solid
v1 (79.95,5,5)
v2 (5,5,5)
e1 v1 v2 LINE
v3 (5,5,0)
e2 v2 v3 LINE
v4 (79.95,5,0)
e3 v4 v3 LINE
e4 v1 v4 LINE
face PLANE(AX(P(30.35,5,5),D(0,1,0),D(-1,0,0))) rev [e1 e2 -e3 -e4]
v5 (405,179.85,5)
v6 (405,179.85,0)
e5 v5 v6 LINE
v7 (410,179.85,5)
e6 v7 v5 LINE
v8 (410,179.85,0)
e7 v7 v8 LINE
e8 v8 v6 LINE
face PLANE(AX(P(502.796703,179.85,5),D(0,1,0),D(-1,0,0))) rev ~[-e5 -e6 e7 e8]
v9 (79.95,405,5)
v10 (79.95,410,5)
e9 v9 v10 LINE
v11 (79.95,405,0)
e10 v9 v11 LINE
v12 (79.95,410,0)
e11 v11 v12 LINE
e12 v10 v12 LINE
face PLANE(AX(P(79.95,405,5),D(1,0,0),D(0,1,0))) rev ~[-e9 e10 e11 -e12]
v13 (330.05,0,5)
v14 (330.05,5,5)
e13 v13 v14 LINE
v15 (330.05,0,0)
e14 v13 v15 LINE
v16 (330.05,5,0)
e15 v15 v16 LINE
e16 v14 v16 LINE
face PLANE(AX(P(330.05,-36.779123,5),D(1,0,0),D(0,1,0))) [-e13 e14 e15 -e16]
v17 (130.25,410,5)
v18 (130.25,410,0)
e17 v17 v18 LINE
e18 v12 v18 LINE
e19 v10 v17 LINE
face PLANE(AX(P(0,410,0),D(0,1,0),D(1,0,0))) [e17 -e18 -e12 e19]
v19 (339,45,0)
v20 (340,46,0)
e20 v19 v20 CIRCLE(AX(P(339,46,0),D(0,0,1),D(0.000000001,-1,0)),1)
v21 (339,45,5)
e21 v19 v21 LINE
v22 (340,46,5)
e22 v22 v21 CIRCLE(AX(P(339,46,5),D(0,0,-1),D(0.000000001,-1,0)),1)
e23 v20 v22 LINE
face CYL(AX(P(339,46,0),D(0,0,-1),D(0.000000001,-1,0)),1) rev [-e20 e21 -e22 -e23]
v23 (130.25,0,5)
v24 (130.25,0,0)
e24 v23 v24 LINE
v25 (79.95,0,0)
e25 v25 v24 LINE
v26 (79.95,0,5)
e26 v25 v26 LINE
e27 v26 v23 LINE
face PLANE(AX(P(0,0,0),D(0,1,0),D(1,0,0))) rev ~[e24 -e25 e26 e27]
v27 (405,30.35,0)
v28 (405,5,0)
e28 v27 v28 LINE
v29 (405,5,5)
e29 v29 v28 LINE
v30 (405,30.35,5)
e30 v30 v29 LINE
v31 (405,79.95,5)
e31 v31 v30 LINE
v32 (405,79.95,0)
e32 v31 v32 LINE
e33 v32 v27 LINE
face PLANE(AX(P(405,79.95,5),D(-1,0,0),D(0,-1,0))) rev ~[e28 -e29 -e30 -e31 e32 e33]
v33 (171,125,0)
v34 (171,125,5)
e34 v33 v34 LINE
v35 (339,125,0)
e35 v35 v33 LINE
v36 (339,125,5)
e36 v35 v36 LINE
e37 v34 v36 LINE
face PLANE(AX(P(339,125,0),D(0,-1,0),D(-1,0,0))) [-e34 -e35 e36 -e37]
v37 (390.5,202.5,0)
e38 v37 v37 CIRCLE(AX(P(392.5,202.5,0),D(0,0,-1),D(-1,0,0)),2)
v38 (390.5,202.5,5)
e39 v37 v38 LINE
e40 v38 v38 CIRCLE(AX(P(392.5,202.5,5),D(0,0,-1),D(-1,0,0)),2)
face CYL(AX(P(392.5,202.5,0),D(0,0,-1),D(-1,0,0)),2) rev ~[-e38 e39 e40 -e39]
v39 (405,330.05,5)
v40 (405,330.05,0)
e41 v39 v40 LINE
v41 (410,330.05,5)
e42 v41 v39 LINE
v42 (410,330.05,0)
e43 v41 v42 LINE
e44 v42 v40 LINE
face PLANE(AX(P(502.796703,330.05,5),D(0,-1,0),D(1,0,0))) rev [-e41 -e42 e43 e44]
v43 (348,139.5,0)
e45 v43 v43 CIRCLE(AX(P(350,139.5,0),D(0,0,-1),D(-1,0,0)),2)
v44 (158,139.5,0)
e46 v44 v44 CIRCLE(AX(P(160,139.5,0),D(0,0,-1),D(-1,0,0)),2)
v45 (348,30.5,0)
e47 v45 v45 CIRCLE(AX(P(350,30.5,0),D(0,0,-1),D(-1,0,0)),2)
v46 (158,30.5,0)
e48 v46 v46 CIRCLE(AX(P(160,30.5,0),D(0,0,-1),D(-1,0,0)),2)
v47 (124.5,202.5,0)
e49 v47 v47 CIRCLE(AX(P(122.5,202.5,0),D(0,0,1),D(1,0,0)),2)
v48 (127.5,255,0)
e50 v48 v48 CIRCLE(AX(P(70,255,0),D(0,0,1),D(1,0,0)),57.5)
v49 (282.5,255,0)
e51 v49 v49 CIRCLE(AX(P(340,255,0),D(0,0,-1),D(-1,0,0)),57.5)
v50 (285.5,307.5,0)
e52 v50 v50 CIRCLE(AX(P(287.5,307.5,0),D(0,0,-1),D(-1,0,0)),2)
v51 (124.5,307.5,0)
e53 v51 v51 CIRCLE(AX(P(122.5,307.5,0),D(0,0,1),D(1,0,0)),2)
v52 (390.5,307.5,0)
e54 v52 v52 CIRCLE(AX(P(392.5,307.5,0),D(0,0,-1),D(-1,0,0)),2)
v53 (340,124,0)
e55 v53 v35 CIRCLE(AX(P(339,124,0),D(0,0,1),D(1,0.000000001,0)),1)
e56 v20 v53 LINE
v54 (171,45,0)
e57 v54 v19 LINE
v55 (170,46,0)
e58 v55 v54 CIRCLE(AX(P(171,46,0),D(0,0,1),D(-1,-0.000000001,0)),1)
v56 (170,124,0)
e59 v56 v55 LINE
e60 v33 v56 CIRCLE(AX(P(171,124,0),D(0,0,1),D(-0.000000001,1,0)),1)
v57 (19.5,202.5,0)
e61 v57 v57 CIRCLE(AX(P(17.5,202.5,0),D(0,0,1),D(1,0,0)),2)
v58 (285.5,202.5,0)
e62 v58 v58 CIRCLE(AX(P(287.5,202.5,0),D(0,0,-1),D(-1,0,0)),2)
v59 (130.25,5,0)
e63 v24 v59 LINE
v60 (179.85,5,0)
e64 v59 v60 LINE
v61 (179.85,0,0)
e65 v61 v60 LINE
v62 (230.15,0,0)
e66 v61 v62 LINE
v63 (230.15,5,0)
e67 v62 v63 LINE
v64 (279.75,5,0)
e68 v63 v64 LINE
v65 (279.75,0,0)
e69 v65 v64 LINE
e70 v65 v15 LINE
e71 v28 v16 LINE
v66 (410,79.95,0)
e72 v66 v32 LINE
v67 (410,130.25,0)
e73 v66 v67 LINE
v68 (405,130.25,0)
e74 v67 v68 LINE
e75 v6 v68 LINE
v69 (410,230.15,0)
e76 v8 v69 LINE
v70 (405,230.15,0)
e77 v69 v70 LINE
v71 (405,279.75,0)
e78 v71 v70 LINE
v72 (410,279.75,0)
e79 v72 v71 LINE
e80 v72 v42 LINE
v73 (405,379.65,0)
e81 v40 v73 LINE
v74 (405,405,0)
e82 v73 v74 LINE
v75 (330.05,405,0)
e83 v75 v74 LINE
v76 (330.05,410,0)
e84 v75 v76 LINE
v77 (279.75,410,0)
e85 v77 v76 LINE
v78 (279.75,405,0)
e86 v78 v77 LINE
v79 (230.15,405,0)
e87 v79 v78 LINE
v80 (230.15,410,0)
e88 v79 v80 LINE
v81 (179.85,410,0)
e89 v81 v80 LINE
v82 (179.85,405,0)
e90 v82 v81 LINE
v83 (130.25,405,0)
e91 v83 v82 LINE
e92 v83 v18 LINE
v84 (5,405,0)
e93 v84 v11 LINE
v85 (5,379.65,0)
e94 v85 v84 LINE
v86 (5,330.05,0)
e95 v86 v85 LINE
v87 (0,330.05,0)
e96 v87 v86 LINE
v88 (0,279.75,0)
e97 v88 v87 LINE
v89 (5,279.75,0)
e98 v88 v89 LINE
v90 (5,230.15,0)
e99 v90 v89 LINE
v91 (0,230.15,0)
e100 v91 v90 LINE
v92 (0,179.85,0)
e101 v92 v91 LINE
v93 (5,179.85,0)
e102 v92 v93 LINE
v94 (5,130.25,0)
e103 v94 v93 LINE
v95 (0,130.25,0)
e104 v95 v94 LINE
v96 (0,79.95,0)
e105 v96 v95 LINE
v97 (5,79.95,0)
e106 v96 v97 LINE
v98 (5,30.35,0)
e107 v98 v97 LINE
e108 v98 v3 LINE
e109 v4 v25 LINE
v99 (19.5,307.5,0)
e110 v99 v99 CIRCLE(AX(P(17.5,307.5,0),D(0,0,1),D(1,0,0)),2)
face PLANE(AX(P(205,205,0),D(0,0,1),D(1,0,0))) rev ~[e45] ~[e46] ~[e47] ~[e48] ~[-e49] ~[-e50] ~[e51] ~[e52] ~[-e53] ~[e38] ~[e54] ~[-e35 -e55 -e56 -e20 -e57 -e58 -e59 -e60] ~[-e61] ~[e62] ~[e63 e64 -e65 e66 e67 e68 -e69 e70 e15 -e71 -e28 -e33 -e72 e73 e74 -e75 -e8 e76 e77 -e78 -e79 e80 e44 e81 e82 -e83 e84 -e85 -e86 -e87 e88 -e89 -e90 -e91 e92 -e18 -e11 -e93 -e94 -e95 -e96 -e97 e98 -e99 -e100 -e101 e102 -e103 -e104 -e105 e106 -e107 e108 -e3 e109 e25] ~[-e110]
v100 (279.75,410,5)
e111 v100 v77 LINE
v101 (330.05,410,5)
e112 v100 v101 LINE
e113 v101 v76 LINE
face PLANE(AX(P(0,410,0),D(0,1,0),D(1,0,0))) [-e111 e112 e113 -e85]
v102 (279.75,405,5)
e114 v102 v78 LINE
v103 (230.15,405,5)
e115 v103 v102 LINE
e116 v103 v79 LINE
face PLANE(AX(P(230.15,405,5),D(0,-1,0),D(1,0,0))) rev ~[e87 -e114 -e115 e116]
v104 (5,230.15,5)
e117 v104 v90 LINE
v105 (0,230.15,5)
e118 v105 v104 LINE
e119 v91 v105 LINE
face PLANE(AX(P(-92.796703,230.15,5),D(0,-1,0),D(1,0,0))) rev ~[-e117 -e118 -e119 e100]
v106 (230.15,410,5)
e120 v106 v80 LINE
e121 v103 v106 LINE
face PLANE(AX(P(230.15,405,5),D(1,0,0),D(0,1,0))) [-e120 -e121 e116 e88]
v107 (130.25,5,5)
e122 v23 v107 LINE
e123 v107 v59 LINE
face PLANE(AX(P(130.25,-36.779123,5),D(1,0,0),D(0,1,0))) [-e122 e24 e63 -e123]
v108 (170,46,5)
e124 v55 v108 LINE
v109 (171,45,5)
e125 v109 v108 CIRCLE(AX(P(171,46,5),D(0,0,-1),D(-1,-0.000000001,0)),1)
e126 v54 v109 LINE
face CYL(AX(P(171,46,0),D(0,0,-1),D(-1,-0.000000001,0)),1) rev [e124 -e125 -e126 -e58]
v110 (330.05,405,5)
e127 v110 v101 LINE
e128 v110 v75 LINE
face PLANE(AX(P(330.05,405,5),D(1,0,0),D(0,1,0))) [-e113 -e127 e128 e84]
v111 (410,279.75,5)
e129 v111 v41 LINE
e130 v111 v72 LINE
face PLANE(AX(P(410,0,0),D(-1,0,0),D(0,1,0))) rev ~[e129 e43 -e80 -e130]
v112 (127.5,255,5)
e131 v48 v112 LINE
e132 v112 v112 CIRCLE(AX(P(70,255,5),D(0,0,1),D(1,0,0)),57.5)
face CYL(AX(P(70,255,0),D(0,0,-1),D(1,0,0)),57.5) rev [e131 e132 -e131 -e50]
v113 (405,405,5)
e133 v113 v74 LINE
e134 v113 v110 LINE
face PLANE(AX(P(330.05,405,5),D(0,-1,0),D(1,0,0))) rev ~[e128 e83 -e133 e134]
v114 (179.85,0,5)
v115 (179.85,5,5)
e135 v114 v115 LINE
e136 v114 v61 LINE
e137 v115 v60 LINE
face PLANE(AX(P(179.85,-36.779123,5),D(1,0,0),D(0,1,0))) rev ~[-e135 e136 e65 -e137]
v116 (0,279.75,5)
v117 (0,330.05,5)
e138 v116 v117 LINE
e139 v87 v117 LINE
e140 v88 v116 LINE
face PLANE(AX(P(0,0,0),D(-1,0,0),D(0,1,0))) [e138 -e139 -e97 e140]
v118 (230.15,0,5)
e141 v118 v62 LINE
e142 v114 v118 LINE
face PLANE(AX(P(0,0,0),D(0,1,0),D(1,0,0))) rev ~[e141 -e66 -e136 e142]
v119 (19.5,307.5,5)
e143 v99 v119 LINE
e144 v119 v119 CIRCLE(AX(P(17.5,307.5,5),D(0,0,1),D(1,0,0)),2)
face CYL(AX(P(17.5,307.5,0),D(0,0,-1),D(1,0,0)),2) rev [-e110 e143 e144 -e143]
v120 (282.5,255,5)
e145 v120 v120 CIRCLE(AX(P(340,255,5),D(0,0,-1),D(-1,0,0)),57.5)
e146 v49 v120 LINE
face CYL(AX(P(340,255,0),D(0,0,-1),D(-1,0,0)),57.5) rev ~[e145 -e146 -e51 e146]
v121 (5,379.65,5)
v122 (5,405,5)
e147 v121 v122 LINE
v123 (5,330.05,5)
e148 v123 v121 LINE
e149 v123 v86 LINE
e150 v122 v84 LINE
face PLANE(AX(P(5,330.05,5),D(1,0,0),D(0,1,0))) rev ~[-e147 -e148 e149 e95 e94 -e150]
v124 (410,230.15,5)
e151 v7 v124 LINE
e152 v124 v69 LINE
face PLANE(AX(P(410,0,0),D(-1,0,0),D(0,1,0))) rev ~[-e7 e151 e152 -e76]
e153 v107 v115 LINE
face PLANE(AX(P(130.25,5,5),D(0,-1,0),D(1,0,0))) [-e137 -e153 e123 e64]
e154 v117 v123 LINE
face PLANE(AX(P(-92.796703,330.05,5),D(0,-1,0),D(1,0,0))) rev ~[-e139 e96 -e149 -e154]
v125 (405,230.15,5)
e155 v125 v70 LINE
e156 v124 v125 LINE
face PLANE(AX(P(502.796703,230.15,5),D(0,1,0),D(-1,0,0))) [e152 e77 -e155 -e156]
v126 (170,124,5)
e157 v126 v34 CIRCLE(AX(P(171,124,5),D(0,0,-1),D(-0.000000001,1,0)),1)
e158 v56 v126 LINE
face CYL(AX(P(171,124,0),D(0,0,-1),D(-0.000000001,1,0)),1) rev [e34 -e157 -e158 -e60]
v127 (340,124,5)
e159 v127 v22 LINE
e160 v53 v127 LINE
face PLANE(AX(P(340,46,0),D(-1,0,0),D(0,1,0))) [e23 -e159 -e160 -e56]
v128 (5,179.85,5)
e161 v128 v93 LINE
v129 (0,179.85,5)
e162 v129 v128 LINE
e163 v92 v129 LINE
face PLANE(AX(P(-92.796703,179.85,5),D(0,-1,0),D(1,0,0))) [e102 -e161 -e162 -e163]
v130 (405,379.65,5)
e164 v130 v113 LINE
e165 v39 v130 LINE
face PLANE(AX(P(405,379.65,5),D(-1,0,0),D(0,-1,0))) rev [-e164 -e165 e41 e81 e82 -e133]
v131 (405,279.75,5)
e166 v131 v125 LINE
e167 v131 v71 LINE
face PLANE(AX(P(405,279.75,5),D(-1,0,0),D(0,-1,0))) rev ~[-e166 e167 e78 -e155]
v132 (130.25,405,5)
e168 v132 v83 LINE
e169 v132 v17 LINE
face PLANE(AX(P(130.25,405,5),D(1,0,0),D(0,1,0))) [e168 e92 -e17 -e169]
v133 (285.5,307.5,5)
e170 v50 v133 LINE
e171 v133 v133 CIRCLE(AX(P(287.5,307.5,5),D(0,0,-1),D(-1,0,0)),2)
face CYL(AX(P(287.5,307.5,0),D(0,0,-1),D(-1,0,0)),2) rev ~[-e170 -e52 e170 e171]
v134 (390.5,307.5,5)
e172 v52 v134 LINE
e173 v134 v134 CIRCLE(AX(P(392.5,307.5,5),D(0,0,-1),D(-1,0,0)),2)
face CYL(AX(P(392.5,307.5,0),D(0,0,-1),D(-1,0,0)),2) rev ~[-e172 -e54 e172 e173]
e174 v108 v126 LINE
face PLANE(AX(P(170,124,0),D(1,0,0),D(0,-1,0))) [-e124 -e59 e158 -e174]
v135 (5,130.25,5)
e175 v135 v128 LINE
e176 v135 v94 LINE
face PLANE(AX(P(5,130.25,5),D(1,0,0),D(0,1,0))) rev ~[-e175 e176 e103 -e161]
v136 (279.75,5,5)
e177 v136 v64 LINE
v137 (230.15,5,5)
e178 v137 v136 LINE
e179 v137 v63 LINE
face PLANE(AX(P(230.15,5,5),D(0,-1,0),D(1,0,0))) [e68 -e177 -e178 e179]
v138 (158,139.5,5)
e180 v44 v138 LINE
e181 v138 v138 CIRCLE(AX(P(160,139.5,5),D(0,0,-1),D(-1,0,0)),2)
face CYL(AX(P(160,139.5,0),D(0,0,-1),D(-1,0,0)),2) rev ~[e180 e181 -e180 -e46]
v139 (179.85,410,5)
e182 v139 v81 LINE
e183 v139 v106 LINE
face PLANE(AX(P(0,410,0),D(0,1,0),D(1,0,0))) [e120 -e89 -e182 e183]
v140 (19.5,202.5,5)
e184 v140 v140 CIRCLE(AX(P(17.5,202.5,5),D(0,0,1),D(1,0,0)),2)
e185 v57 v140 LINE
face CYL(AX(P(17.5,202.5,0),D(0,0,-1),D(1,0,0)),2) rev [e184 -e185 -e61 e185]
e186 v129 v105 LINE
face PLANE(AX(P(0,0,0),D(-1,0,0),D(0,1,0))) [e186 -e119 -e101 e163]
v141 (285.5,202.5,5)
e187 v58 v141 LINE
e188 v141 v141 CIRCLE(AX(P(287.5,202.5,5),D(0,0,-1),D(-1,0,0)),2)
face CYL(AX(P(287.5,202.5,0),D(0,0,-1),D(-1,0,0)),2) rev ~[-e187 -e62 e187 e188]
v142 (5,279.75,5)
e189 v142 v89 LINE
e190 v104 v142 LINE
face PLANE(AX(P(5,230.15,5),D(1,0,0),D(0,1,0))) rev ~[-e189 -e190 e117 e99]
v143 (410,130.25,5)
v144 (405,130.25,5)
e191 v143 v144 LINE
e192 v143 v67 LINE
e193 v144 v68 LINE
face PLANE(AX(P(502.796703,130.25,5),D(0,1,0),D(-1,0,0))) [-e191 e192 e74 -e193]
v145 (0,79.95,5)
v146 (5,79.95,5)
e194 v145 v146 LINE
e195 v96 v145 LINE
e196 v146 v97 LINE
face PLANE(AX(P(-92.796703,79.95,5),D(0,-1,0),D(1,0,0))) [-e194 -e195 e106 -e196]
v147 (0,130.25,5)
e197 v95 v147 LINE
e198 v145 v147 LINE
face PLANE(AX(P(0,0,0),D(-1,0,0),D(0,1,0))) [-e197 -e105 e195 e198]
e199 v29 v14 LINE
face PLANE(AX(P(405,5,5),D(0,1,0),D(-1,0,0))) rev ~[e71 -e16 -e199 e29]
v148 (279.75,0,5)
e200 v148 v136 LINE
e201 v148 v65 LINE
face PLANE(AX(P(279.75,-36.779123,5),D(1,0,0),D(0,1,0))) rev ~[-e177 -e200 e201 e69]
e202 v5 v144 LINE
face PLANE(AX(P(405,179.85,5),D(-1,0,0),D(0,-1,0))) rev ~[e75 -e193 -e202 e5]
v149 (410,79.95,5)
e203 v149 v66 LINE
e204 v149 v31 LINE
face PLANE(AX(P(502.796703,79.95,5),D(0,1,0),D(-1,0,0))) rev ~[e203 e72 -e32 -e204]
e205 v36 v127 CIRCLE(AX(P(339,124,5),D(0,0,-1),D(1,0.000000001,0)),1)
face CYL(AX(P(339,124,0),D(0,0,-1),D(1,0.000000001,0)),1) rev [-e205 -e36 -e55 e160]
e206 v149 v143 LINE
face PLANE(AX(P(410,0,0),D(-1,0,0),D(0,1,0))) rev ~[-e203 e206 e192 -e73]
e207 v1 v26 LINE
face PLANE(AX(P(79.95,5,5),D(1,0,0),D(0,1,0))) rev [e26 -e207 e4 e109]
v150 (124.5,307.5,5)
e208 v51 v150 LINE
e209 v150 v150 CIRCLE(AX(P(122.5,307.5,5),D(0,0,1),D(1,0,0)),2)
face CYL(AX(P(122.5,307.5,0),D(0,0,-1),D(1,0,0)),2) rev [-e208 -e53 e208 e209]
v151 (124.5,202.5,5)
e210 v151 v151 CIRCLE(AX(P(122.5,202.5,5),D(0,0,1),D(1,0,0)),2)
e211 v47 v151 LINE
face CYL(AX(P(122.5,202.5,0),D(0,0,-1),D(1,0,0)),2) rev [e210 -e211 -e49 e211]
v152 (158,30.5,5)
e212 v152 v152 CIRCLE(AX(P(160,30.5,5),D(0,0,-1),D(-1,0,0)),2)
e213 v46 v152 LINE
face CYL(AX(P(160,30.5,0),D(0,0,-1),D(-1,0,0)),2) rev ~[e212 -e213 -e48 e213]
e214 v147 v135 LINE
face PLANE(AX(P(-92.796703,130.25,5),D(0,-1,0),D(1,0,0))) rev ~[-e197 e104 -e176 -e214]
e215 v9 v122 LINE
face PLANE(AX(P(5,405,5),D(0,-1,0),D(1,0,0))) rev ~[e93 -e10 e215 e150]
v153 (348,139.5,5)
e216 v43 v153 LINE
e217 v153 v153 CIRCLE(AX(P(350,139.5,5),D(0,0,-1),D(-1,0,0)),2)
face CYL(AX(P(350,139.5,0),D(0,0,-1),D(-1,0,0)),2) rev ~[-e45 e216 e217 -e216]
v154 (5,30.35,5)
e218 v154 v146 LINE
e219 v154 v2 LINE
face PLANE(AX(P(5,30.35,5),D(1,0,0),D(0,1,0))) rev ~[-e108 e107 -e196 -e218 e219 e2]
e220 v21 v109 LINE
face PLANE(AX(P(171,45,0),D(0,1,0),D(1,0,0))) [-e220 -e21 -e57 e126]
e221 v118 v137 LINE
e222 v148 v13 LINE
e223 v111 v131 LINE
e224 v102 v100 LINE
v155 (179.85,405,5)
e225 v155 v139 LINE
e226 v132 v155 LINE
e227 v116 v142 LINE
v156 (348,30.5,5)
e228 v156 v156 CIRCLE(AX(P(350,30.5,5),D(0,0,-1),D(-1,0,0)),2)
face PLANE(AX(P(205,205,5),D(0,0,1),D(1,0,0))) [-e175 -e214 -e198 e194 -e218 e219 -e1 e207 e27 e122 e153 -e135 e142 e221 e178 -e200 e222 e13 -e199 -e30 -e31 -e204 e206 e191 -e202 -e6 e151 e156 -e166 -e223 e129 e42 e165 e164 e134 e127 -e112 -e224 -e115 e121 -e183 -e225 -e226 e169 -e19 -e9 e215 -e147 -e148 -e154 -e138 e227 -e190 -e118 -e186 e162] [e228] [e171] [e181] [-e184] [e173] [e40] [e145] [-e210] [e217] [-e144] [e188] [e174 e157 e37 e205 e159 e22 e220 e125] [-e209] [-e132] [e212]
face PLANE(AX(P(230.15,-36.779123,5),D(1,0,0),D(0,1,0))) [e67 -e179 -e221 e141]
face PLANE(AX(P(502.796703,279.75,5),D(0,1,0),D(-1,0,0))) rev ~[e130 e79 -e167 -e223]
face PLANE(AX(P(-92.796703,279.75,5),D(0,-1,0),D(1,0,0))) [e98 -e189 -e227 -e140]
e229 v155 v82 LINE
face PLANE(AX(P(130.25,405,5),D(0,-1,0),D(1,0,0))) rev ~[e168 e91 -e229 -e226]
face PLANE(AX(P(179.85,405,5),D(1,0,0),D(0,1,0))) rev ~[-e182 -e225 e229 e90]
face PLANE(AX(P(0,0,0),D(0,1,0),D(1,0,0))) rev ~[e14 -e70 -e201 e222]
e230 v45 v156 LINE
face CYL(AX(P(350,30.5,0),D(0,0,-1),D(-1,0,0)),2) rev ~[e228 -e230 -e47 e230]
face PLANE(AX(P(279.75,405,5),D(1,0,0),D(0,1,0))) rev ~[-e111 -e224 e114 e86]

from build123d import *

# Parameters (mm, degrees)
SKIZZE1_W                       = 410
SKIZZE1_H                       = 410
AUFSATZ_LINEAR_AUSTRAGEN1_DEPTH = 5
SKIZZE2_W                       = 97.796702903
SKIZZE2_H                       = 49.6
SCHNITT_LINEAR_AUSTRAGEN1_DEPTH = 5
LINEARES_MUSTER1_COUNT          = 4
LINEARES_MUSTER1_PITCH          = 99.9
SPIEGELN1_COPY_1_SKETCH_W       = 97.796702903
SPIEGELN1_COPY_1_SKETCH_H       = 49.6
SPIEGELN1_COPY_1_DEPTH          = 5
SPIEGELN1_COPY_2_SKETCH_W       = 97.796702903
SPIEGELN1_COPY_2_SKETCH_H       = 49.6
SPIEGELN1_COPY_2_DEPTH          = 5
SPIEGELN1_COPY_3_SKETCH_W       = 97.796702903
SPIEGELN1_COPY_3_SKETCH_H       = 49.6
SPIEGELN1_COPY_3_DEPTH          = 5
SKIZZE3_W                       = 49.6
SKIZZE3_H                       = 41.77912255
SCHNITT_LINEAR_AUSTRAGEN2_DEPTH = 5
LINEARES_MUSTER2_COUNT          = 4
LINEARES_MUSTER2_PITCH          = 99.9
SPIEGELN2_COPY_1_SKETCH_W       = 49.6
SPIEGELN2_COPY_1_SKETCH_H       = 41.77912255
SPIEGELN2_COPY_1_DEPTH          = 5
SPIEGELN2_COPY_2_SKETCH_W       = 49.6
SPIEGELN2_COPY_2_SKETCH_H       = 41.77912255
SPIEGELN2_COPY_2_DEPTH          = 5
SPIEGELN2_COPY_3_SKETCH_W       = 49.6
SPIEGELN2_COPY_3_SKETCH_H       = 41.77912255
SPIEGELN2_COPY_3_DEPTH          = 5
SCHNITT_LINEAR_AUSTRAGEN3_DEPTH = 5
SPIEGELN4_COPY_1_DEPTH          = 5
SCHNITT_LINEAR_AUSTRAGEN4_REACH = 581.849
SKIZZE5_R                       = 57.5
SKIZZE5_R_2                     = 2
SKIZZE5_3_R                     = 2
SCHNITT_LINEAR_AUSTRAGEN5_DEPTH = 10


with BuildPart() as part:
    # Skizze1 → Aufsatz-Linear austragen1 (new body)
    with BuildSketch(Plane.XY):
        with Locations((205, 205)):
            Rectangle(SKIZZE1_W, SKIZZE1_H)
    extrude(amount=AUFSATZ_LINEAR_AUSTRAGEN1_DEPTH)

    # Skizze2 → Schnitt-Linear austragen1 (cut)
    with BuildSketch(Plane.XY.offset(5)):
        with Locations((-43.898351452, 354.85)):
            Rectangle(SKIZZE2_W, SKIZZE2_H)
    schnitt_linear_austragen1 = extrude(amount=-SCHNITT_LINEAR_AUSTRAGEN1_DEPTH, mode=Mode.SUBTRACT)

    # Lineares Muster1: Schnitt-Linear austragen1 ×4
    with Locations(*[(0, -i * LINEARES_MUSTER1_PITCH, 0) for i in range(1, LINEARES_MUSTER1_COUNT)]):
        add(schnitt_linear_austragen1, mode=Mode.SUBTRACT)

    # Spiegeln1: Schnitt-Linear austragen1 across plane
    add(schnitt_linear_austragen1.mirror(Plane(origin=(205, 0, 0), x_dir=(0, 0, 1), z_dir=(1, 0, 0))), mode=Mode.SUBTRACT)

    # Spiegeln1 copy 1 sketch → Spiegeln1 copy 1 (cut)
    with BuildSketch(Plane(origin=(410, -99.9, 5), x_dir=(-1, 0, 0), z_dir=(0, 0, 1))):
        with Locations((-43.898351452, -354.85)):
            Rectangle(SPIEGELN1_COPY_1_SKETCH_W, SPIEGELN1_COPY_1_SKETCH_H)
    extrude(amount=-SPIEGELN1_COPY_1_DEPTH, mode=Mode.SUBTRACT)

    # Spiegeln1 copy 2 sketch → Spiegeln1 copy 2 (cut)
    with BuildSketch(Plane(origin=(410, -199.8, 5), x_dir=(-1, 0, 0), z_dir=(0, 0, 1))):
        with Locations((-43.898351452, -354.85)):
            Rectangle(SPIEGELN1_COPY_2_SKETCH_W, SPIEGELN1_COPY_2_SKETCH_H)
    extrude(amount=-SPIEGELN1_COPY_2_DEPTH, mode=Mode.SUBTRACT)

    # Spiegeln1 copy 3 sketch → Spiegeln1 copy 3 (cut)
    with BuildSketch(Plane(origin=(410, -299.7, 5), x_dir=(-1, 0, 0), z_dir=(0, 0, 1))):
        with Locations((-43.898351452, -354.85)):
            Rectangle(SPIEGELN1_COPY_3_SKETCH_W, SPIEGELN1_COPY_3_SKETCH_H)
    extrude(amount=-SPIEGELN1_COPY_3_DEPTH, mode=Mode.SUBTRACT)

    # Skizze3 → Schnitt-Linear austragen2 (cut)
    with BuildSketch(Plane.XY.offset(5)):
        with Locations((55.15, 425.889561275)):
            Rectangle(SKIZZE3_W, SKIZZE3_H)
    schnitt_linear_austragen2 = extrude(amount=-SCHNITT_LINEAR_AUSTRAGEN2_DEPTH, mode=Mode.SUBTRACT)

    # Lineares Muster2: Schnitt-Linear austragen2 ×4
    with Locations(*[(i * LINEARES_MUSTER2_PITCH, 0, 0) for i in range(1, LINEARES_MUSTER2_COUNT)]):
        add(schnitt_linear_austragen2, mode=Mode.SUBTRACT)

    # Spiegeln2: Schnitt-Linear austragen2 across plane
    add(schnitt_linear_austragen2.mirror(Plane.ZX.offset(205)), mode=Mode.SUBTRACT)

    # Spiegeln2 copy 1 sketch → Spiegeln2 copy 1 (cut)
    with BuildSketch(Plane(origin=(99.9, 410, 5), x_dir=(1, 0, 0), z_dir=(0, 0, 1))):
        with Locations((55.15, -425.889561275)):
            Rectangle(SPIEGELN2_COPY_1_SKETCH_W, SPIEGELN2_COPY_1_SKETCH_H)
    extrude(amount=-SPIEGELN2_COPY_1_DEPTH, mode=Mode.SUBTRACT)

    # Spiegeln2 copy 2 sketch → Spiegeln2 copy 2 (cut)
    with BuildSketch(Plane(origin=(199.8, 410, 5), x_dir=(1, 0, 0), z_dir=(0, 0, 1))):
        with Locations((55.15, -425.889561275)):
            Rectangle(SPIEGELN2_COPY_2_SKETCH_W, SPIEGELN2_COPY_2_SKETCH_H)
    extrude(amount=-SPIEGELN2_COPY_2_DEPTH, mode=Mode.SUBTRACT)

    # Spiegeln2 copy 3 sketch → Spiegeln2 copy 3 (cut)
    with BuildSketch(Plane(origin=(299.7, 410, 5), x_dir=(1, 0, 0), z_dir=(0, 0, 1))):
        with Locations((55.15, -425.889561275)):
            Rectangle(SPIEGELN2_COPY_3_SKETCH_W, SPIEGELN2_COPY_3_SKETCH_H)
    extrude(amount=-SPIEGELN2_COPY_3_DEPTH, mode=Mode.SUBTRACT)

    # Skizze4 → Schnitt-Linear austragen3 (cut)
    with BuildSketch(Plane.XY.offset(5)):
        Polygon((5, 379.65), (5, 405), (30.35, 405), (30.35, 431.549801047), (5, 431.549801047), (-47.862925009, 431.549801047), (-47.862925009, 405), (-47.862925009, 379.65), align=None)
    schnitt_linear_austragen3 = extrude(amount=-SCHNITT_LINEAR_AUSTRAGEN3_DEPTH, mode=Mode.SUBTRACT)

    # Spiegeln3: Schnitt-Linear austragen3 across plane
    add(schnitt_linear_austragen3.mirror(Plane(origin=(205, 0, 0), x_dir=(0, 0, 1), z_dir=(1, 0, 0))), mode=Mode.SUBTRACT)

    # Spiegeln4: Schnitt-Linear austragen3 across plane
    add(schnitt_linear_austragen3.mirror(Plane.ZX.offset(205)), mode=Mode.SUBTRACT)

    # Spiegeln4 copy 1 sketch → Spiegeln4 copy 1 (cut)
    with BuildSketch(Plane(origin=(410, 410, 5), x_dir=(-1, 0, 0), z_dir=(0, 0, 1))):
        Polygon((5, 379.65), (5, 405), (30.35, 405), (30.35, 431.549801047), (5, 431.549801047), (-47.862925009, 431.549801047), (-47.862925009, 405), (-47.862925009, 379.65), align=None)
    extrude(amount=-SPIEGELN4_COPY_1_DEPTH, mode=Mode.SUBTRACT)

    # Skizze5 → Schnitt-Linear austragen4 (cut, up to next)
    with BuildSketch(Plane(origin=(0, 0, 0), x_dir=(-1, 0, 0), z_dir=(0, 0, -1)), mode=Mode.PRIVATE) as schnitt_linear_austragen4_sk1:
        with Locations((-340, 255)):
            Circle(SKIZZE5_R)
    schnitt_linear_austragen4_tool1 = extrude(schnitt_linear_austragen4_sk1.sketch, amount=-SCHNITT_LINEAR_AUSTRAGEN4_REACH, mode=Mode.PRIVATE) & part.part
    # Skizze5 → Schnitt-Linear austragen4 (cut, up to next)
    with BuildSketch(Plane(origin=(0, 0, 0), x_dir=(-1, 0, 0), z_dir=(0, 0, -1)), mode=Mode.PRIVATE) as schnitt_linear_austragen4_sk2:
        with Locations((-287.5, 307.5)):
            Circle(SKIZZE5_R_2)
    schnitt_linear_austragen4_tool2 = extrude(schnitt_linear_austragen4_sk2.sketch, amount=-SCHNITT_LINEAR_AUSTRAGEN4_REACH, mode=Mode.PRIVATE) & part.part
    # Skizze5 → Schnitt-Linear austragen4 (cut, up to next)
    with BuildSketch(Plane(origin=(0, 0, 0), x_dir=(-1, 0, 0), z_dir=(0, 0, -1)), mode=Mode.PRIVATE) as schnitt_linear_austragen4_sk3:
        with Locations((-392.5, 202.5)):
            Circle(SKIZZE5_R_2)
    schnitt_linear_austragen4_tool3 = extrude(schnitt_linear_austragen4_sk3.sketch, amount=-SCHNITT_LINEAR_AUSTRAGEN4_REACH, mode=Mode.PRIVATE) & part.part
    # Skizze5 → Schnitt-Linear austragen4 (cut, up to next)
    with BuildSketch(Plane(origin=(0, 0, 0), x_dir=(-1, 0, 0), z_dir=(0, 0, -1)), mode=Mode.PRIVATE) as schnitt_linear_austragen4_sk4:
        with Locations((-392.5, 307.5)):
            Circle(SKIZZE5_R_2)
    schnitt_linear_austragen4_tool4 = extrude(schnitt_linear_austragen4_sk4.sketch, amount=-SCHNITT_LINEAR_AUSTRAGEN4_REACH, mode=Mode.PRIVATE) & part.part
    # Skizze5 → Schnitt-Linear austragen4 (cut, up to next)
    with BuildSketch(Plane(origin=(0, 0, 0), x_dir=(-1, 0, 0), z_dir=(0, 0, -1)), mode=Mode.PRIVATE) as schnitt_linear_austragen4_sk5:
        with Locations((-287.5, 202.5)):
            Circle(SKIZZE5_R_2)
    schnitt_linear_austragen4_tool5 = extrude(schnitt_linear_austragen4_sk5.sketch, amount=-SCHNITT_LINEAR_AUSTRAGEN4_REACH, mode=Mode.PRIVATE) & part.part
    schnitt_linear_austragen4_1 = schnitt_linear_austragen4_tool1.solids().sort_by_distance((340, 255, 0))[0]
    add(schnitt_linear_austragen4_1, mode=Mode.SUBTRACT)
    schnitt_linear_austragen4_2 = schnitt_linear_austragen4_tool2.solids().sort_by_distance((287.5, 307.5, 0))[0]
    add(schnitt_linear_austragen4_2, mode=Mode.SUBTRACT)
    schnitt_linear_austragen4_3 = schnitt_linear_austragen4_tool3.solids().sort_by_distance((392.5, 202.5, 0))[0]
    add(schnitt_linear_austragen4_3, mode=Mode.SUBTRACT)
    schnitt_linear_austragen4_4 = schnitt_linear_austragen4_tool4.solids().sort_by_distance((392.5, 307.5, 0))[0]
    add(schnitt_linear_austragen4_4, mode=Mode.SUBTRACT)
    schnitt_linear_austragen4_5 = schnitt_linear_austragen4_tool5.solids().sort_by_distance((287.5, 202.5, 0))[0]
    add(schnitt_linear_austragen4_5, mode=Mode.SUBTRACT)
    schnitt_linear_austragen4 = schnitt_linear_austragen4_1 + schnitt_linear_austragen4_2 + schnitt_linear_austragen4_3 + schnitt_linear_austragen4_4 + schnitt_linear_austragen4_5  # Schnitt-Linear austragen4 as one shape, for the pattern or mirror that repeats it

    # Skizze5<3> → Schnitt-Linear austragen5 (cut)
    with BuildSketch(Plane(origin=(0, 0, 0), x_dir=(-1, 0, 0), z_dir=(0, 0, -1))):
        with Locations((-350, 139.5)):
            Circle(SKIZZE5_3_R)
        with Locations((-160, 139.5)):
            Circle(SKIZZE5_3_R)
        with Locations((-160, 30.5)):
            Circle(SKIZZE5_3_R)
        with Locations((-350, 30.5)):
            Circle(SKIZZE5_3_R)
        with BuildLine():
            Line((-339, 125), (-171, 125))
            ThreePointArc((-171, 125), (-170.292893219, 124.707106781), (-170, 124))
            Line((-170, 124), (-170, 46))
            ThreePointArc((-170, 46), (-170.292893219, 45.292893219), (-171, 45))
            Line((-171, 45), (-339, 45))
            ThreePointArc((-339, 45), (-339.707106781, 45.292893219), (-340, 46))
            Line((-340, 46), (-340, 124))
            ThreePointArc((-340, 124), (-339.707106781, 124.707106781), (-339, 125))
        make_face()
    extrude(amount=-SCHNITT_LINEAR_AUSTRAGEN5_DEPTH, mode=Mode.SUBTRACT)

    # Spiegeln5: Schnitt-Linear austragen4 across plane
    add(schnitt_linear_austragen4.mirror(Plane(origin=(205, 0, 0), x_dir=(0, 0, 1), z_dir=(1, 0, 0))), mode=Mode.SUBTRACT)


solid = part.part
